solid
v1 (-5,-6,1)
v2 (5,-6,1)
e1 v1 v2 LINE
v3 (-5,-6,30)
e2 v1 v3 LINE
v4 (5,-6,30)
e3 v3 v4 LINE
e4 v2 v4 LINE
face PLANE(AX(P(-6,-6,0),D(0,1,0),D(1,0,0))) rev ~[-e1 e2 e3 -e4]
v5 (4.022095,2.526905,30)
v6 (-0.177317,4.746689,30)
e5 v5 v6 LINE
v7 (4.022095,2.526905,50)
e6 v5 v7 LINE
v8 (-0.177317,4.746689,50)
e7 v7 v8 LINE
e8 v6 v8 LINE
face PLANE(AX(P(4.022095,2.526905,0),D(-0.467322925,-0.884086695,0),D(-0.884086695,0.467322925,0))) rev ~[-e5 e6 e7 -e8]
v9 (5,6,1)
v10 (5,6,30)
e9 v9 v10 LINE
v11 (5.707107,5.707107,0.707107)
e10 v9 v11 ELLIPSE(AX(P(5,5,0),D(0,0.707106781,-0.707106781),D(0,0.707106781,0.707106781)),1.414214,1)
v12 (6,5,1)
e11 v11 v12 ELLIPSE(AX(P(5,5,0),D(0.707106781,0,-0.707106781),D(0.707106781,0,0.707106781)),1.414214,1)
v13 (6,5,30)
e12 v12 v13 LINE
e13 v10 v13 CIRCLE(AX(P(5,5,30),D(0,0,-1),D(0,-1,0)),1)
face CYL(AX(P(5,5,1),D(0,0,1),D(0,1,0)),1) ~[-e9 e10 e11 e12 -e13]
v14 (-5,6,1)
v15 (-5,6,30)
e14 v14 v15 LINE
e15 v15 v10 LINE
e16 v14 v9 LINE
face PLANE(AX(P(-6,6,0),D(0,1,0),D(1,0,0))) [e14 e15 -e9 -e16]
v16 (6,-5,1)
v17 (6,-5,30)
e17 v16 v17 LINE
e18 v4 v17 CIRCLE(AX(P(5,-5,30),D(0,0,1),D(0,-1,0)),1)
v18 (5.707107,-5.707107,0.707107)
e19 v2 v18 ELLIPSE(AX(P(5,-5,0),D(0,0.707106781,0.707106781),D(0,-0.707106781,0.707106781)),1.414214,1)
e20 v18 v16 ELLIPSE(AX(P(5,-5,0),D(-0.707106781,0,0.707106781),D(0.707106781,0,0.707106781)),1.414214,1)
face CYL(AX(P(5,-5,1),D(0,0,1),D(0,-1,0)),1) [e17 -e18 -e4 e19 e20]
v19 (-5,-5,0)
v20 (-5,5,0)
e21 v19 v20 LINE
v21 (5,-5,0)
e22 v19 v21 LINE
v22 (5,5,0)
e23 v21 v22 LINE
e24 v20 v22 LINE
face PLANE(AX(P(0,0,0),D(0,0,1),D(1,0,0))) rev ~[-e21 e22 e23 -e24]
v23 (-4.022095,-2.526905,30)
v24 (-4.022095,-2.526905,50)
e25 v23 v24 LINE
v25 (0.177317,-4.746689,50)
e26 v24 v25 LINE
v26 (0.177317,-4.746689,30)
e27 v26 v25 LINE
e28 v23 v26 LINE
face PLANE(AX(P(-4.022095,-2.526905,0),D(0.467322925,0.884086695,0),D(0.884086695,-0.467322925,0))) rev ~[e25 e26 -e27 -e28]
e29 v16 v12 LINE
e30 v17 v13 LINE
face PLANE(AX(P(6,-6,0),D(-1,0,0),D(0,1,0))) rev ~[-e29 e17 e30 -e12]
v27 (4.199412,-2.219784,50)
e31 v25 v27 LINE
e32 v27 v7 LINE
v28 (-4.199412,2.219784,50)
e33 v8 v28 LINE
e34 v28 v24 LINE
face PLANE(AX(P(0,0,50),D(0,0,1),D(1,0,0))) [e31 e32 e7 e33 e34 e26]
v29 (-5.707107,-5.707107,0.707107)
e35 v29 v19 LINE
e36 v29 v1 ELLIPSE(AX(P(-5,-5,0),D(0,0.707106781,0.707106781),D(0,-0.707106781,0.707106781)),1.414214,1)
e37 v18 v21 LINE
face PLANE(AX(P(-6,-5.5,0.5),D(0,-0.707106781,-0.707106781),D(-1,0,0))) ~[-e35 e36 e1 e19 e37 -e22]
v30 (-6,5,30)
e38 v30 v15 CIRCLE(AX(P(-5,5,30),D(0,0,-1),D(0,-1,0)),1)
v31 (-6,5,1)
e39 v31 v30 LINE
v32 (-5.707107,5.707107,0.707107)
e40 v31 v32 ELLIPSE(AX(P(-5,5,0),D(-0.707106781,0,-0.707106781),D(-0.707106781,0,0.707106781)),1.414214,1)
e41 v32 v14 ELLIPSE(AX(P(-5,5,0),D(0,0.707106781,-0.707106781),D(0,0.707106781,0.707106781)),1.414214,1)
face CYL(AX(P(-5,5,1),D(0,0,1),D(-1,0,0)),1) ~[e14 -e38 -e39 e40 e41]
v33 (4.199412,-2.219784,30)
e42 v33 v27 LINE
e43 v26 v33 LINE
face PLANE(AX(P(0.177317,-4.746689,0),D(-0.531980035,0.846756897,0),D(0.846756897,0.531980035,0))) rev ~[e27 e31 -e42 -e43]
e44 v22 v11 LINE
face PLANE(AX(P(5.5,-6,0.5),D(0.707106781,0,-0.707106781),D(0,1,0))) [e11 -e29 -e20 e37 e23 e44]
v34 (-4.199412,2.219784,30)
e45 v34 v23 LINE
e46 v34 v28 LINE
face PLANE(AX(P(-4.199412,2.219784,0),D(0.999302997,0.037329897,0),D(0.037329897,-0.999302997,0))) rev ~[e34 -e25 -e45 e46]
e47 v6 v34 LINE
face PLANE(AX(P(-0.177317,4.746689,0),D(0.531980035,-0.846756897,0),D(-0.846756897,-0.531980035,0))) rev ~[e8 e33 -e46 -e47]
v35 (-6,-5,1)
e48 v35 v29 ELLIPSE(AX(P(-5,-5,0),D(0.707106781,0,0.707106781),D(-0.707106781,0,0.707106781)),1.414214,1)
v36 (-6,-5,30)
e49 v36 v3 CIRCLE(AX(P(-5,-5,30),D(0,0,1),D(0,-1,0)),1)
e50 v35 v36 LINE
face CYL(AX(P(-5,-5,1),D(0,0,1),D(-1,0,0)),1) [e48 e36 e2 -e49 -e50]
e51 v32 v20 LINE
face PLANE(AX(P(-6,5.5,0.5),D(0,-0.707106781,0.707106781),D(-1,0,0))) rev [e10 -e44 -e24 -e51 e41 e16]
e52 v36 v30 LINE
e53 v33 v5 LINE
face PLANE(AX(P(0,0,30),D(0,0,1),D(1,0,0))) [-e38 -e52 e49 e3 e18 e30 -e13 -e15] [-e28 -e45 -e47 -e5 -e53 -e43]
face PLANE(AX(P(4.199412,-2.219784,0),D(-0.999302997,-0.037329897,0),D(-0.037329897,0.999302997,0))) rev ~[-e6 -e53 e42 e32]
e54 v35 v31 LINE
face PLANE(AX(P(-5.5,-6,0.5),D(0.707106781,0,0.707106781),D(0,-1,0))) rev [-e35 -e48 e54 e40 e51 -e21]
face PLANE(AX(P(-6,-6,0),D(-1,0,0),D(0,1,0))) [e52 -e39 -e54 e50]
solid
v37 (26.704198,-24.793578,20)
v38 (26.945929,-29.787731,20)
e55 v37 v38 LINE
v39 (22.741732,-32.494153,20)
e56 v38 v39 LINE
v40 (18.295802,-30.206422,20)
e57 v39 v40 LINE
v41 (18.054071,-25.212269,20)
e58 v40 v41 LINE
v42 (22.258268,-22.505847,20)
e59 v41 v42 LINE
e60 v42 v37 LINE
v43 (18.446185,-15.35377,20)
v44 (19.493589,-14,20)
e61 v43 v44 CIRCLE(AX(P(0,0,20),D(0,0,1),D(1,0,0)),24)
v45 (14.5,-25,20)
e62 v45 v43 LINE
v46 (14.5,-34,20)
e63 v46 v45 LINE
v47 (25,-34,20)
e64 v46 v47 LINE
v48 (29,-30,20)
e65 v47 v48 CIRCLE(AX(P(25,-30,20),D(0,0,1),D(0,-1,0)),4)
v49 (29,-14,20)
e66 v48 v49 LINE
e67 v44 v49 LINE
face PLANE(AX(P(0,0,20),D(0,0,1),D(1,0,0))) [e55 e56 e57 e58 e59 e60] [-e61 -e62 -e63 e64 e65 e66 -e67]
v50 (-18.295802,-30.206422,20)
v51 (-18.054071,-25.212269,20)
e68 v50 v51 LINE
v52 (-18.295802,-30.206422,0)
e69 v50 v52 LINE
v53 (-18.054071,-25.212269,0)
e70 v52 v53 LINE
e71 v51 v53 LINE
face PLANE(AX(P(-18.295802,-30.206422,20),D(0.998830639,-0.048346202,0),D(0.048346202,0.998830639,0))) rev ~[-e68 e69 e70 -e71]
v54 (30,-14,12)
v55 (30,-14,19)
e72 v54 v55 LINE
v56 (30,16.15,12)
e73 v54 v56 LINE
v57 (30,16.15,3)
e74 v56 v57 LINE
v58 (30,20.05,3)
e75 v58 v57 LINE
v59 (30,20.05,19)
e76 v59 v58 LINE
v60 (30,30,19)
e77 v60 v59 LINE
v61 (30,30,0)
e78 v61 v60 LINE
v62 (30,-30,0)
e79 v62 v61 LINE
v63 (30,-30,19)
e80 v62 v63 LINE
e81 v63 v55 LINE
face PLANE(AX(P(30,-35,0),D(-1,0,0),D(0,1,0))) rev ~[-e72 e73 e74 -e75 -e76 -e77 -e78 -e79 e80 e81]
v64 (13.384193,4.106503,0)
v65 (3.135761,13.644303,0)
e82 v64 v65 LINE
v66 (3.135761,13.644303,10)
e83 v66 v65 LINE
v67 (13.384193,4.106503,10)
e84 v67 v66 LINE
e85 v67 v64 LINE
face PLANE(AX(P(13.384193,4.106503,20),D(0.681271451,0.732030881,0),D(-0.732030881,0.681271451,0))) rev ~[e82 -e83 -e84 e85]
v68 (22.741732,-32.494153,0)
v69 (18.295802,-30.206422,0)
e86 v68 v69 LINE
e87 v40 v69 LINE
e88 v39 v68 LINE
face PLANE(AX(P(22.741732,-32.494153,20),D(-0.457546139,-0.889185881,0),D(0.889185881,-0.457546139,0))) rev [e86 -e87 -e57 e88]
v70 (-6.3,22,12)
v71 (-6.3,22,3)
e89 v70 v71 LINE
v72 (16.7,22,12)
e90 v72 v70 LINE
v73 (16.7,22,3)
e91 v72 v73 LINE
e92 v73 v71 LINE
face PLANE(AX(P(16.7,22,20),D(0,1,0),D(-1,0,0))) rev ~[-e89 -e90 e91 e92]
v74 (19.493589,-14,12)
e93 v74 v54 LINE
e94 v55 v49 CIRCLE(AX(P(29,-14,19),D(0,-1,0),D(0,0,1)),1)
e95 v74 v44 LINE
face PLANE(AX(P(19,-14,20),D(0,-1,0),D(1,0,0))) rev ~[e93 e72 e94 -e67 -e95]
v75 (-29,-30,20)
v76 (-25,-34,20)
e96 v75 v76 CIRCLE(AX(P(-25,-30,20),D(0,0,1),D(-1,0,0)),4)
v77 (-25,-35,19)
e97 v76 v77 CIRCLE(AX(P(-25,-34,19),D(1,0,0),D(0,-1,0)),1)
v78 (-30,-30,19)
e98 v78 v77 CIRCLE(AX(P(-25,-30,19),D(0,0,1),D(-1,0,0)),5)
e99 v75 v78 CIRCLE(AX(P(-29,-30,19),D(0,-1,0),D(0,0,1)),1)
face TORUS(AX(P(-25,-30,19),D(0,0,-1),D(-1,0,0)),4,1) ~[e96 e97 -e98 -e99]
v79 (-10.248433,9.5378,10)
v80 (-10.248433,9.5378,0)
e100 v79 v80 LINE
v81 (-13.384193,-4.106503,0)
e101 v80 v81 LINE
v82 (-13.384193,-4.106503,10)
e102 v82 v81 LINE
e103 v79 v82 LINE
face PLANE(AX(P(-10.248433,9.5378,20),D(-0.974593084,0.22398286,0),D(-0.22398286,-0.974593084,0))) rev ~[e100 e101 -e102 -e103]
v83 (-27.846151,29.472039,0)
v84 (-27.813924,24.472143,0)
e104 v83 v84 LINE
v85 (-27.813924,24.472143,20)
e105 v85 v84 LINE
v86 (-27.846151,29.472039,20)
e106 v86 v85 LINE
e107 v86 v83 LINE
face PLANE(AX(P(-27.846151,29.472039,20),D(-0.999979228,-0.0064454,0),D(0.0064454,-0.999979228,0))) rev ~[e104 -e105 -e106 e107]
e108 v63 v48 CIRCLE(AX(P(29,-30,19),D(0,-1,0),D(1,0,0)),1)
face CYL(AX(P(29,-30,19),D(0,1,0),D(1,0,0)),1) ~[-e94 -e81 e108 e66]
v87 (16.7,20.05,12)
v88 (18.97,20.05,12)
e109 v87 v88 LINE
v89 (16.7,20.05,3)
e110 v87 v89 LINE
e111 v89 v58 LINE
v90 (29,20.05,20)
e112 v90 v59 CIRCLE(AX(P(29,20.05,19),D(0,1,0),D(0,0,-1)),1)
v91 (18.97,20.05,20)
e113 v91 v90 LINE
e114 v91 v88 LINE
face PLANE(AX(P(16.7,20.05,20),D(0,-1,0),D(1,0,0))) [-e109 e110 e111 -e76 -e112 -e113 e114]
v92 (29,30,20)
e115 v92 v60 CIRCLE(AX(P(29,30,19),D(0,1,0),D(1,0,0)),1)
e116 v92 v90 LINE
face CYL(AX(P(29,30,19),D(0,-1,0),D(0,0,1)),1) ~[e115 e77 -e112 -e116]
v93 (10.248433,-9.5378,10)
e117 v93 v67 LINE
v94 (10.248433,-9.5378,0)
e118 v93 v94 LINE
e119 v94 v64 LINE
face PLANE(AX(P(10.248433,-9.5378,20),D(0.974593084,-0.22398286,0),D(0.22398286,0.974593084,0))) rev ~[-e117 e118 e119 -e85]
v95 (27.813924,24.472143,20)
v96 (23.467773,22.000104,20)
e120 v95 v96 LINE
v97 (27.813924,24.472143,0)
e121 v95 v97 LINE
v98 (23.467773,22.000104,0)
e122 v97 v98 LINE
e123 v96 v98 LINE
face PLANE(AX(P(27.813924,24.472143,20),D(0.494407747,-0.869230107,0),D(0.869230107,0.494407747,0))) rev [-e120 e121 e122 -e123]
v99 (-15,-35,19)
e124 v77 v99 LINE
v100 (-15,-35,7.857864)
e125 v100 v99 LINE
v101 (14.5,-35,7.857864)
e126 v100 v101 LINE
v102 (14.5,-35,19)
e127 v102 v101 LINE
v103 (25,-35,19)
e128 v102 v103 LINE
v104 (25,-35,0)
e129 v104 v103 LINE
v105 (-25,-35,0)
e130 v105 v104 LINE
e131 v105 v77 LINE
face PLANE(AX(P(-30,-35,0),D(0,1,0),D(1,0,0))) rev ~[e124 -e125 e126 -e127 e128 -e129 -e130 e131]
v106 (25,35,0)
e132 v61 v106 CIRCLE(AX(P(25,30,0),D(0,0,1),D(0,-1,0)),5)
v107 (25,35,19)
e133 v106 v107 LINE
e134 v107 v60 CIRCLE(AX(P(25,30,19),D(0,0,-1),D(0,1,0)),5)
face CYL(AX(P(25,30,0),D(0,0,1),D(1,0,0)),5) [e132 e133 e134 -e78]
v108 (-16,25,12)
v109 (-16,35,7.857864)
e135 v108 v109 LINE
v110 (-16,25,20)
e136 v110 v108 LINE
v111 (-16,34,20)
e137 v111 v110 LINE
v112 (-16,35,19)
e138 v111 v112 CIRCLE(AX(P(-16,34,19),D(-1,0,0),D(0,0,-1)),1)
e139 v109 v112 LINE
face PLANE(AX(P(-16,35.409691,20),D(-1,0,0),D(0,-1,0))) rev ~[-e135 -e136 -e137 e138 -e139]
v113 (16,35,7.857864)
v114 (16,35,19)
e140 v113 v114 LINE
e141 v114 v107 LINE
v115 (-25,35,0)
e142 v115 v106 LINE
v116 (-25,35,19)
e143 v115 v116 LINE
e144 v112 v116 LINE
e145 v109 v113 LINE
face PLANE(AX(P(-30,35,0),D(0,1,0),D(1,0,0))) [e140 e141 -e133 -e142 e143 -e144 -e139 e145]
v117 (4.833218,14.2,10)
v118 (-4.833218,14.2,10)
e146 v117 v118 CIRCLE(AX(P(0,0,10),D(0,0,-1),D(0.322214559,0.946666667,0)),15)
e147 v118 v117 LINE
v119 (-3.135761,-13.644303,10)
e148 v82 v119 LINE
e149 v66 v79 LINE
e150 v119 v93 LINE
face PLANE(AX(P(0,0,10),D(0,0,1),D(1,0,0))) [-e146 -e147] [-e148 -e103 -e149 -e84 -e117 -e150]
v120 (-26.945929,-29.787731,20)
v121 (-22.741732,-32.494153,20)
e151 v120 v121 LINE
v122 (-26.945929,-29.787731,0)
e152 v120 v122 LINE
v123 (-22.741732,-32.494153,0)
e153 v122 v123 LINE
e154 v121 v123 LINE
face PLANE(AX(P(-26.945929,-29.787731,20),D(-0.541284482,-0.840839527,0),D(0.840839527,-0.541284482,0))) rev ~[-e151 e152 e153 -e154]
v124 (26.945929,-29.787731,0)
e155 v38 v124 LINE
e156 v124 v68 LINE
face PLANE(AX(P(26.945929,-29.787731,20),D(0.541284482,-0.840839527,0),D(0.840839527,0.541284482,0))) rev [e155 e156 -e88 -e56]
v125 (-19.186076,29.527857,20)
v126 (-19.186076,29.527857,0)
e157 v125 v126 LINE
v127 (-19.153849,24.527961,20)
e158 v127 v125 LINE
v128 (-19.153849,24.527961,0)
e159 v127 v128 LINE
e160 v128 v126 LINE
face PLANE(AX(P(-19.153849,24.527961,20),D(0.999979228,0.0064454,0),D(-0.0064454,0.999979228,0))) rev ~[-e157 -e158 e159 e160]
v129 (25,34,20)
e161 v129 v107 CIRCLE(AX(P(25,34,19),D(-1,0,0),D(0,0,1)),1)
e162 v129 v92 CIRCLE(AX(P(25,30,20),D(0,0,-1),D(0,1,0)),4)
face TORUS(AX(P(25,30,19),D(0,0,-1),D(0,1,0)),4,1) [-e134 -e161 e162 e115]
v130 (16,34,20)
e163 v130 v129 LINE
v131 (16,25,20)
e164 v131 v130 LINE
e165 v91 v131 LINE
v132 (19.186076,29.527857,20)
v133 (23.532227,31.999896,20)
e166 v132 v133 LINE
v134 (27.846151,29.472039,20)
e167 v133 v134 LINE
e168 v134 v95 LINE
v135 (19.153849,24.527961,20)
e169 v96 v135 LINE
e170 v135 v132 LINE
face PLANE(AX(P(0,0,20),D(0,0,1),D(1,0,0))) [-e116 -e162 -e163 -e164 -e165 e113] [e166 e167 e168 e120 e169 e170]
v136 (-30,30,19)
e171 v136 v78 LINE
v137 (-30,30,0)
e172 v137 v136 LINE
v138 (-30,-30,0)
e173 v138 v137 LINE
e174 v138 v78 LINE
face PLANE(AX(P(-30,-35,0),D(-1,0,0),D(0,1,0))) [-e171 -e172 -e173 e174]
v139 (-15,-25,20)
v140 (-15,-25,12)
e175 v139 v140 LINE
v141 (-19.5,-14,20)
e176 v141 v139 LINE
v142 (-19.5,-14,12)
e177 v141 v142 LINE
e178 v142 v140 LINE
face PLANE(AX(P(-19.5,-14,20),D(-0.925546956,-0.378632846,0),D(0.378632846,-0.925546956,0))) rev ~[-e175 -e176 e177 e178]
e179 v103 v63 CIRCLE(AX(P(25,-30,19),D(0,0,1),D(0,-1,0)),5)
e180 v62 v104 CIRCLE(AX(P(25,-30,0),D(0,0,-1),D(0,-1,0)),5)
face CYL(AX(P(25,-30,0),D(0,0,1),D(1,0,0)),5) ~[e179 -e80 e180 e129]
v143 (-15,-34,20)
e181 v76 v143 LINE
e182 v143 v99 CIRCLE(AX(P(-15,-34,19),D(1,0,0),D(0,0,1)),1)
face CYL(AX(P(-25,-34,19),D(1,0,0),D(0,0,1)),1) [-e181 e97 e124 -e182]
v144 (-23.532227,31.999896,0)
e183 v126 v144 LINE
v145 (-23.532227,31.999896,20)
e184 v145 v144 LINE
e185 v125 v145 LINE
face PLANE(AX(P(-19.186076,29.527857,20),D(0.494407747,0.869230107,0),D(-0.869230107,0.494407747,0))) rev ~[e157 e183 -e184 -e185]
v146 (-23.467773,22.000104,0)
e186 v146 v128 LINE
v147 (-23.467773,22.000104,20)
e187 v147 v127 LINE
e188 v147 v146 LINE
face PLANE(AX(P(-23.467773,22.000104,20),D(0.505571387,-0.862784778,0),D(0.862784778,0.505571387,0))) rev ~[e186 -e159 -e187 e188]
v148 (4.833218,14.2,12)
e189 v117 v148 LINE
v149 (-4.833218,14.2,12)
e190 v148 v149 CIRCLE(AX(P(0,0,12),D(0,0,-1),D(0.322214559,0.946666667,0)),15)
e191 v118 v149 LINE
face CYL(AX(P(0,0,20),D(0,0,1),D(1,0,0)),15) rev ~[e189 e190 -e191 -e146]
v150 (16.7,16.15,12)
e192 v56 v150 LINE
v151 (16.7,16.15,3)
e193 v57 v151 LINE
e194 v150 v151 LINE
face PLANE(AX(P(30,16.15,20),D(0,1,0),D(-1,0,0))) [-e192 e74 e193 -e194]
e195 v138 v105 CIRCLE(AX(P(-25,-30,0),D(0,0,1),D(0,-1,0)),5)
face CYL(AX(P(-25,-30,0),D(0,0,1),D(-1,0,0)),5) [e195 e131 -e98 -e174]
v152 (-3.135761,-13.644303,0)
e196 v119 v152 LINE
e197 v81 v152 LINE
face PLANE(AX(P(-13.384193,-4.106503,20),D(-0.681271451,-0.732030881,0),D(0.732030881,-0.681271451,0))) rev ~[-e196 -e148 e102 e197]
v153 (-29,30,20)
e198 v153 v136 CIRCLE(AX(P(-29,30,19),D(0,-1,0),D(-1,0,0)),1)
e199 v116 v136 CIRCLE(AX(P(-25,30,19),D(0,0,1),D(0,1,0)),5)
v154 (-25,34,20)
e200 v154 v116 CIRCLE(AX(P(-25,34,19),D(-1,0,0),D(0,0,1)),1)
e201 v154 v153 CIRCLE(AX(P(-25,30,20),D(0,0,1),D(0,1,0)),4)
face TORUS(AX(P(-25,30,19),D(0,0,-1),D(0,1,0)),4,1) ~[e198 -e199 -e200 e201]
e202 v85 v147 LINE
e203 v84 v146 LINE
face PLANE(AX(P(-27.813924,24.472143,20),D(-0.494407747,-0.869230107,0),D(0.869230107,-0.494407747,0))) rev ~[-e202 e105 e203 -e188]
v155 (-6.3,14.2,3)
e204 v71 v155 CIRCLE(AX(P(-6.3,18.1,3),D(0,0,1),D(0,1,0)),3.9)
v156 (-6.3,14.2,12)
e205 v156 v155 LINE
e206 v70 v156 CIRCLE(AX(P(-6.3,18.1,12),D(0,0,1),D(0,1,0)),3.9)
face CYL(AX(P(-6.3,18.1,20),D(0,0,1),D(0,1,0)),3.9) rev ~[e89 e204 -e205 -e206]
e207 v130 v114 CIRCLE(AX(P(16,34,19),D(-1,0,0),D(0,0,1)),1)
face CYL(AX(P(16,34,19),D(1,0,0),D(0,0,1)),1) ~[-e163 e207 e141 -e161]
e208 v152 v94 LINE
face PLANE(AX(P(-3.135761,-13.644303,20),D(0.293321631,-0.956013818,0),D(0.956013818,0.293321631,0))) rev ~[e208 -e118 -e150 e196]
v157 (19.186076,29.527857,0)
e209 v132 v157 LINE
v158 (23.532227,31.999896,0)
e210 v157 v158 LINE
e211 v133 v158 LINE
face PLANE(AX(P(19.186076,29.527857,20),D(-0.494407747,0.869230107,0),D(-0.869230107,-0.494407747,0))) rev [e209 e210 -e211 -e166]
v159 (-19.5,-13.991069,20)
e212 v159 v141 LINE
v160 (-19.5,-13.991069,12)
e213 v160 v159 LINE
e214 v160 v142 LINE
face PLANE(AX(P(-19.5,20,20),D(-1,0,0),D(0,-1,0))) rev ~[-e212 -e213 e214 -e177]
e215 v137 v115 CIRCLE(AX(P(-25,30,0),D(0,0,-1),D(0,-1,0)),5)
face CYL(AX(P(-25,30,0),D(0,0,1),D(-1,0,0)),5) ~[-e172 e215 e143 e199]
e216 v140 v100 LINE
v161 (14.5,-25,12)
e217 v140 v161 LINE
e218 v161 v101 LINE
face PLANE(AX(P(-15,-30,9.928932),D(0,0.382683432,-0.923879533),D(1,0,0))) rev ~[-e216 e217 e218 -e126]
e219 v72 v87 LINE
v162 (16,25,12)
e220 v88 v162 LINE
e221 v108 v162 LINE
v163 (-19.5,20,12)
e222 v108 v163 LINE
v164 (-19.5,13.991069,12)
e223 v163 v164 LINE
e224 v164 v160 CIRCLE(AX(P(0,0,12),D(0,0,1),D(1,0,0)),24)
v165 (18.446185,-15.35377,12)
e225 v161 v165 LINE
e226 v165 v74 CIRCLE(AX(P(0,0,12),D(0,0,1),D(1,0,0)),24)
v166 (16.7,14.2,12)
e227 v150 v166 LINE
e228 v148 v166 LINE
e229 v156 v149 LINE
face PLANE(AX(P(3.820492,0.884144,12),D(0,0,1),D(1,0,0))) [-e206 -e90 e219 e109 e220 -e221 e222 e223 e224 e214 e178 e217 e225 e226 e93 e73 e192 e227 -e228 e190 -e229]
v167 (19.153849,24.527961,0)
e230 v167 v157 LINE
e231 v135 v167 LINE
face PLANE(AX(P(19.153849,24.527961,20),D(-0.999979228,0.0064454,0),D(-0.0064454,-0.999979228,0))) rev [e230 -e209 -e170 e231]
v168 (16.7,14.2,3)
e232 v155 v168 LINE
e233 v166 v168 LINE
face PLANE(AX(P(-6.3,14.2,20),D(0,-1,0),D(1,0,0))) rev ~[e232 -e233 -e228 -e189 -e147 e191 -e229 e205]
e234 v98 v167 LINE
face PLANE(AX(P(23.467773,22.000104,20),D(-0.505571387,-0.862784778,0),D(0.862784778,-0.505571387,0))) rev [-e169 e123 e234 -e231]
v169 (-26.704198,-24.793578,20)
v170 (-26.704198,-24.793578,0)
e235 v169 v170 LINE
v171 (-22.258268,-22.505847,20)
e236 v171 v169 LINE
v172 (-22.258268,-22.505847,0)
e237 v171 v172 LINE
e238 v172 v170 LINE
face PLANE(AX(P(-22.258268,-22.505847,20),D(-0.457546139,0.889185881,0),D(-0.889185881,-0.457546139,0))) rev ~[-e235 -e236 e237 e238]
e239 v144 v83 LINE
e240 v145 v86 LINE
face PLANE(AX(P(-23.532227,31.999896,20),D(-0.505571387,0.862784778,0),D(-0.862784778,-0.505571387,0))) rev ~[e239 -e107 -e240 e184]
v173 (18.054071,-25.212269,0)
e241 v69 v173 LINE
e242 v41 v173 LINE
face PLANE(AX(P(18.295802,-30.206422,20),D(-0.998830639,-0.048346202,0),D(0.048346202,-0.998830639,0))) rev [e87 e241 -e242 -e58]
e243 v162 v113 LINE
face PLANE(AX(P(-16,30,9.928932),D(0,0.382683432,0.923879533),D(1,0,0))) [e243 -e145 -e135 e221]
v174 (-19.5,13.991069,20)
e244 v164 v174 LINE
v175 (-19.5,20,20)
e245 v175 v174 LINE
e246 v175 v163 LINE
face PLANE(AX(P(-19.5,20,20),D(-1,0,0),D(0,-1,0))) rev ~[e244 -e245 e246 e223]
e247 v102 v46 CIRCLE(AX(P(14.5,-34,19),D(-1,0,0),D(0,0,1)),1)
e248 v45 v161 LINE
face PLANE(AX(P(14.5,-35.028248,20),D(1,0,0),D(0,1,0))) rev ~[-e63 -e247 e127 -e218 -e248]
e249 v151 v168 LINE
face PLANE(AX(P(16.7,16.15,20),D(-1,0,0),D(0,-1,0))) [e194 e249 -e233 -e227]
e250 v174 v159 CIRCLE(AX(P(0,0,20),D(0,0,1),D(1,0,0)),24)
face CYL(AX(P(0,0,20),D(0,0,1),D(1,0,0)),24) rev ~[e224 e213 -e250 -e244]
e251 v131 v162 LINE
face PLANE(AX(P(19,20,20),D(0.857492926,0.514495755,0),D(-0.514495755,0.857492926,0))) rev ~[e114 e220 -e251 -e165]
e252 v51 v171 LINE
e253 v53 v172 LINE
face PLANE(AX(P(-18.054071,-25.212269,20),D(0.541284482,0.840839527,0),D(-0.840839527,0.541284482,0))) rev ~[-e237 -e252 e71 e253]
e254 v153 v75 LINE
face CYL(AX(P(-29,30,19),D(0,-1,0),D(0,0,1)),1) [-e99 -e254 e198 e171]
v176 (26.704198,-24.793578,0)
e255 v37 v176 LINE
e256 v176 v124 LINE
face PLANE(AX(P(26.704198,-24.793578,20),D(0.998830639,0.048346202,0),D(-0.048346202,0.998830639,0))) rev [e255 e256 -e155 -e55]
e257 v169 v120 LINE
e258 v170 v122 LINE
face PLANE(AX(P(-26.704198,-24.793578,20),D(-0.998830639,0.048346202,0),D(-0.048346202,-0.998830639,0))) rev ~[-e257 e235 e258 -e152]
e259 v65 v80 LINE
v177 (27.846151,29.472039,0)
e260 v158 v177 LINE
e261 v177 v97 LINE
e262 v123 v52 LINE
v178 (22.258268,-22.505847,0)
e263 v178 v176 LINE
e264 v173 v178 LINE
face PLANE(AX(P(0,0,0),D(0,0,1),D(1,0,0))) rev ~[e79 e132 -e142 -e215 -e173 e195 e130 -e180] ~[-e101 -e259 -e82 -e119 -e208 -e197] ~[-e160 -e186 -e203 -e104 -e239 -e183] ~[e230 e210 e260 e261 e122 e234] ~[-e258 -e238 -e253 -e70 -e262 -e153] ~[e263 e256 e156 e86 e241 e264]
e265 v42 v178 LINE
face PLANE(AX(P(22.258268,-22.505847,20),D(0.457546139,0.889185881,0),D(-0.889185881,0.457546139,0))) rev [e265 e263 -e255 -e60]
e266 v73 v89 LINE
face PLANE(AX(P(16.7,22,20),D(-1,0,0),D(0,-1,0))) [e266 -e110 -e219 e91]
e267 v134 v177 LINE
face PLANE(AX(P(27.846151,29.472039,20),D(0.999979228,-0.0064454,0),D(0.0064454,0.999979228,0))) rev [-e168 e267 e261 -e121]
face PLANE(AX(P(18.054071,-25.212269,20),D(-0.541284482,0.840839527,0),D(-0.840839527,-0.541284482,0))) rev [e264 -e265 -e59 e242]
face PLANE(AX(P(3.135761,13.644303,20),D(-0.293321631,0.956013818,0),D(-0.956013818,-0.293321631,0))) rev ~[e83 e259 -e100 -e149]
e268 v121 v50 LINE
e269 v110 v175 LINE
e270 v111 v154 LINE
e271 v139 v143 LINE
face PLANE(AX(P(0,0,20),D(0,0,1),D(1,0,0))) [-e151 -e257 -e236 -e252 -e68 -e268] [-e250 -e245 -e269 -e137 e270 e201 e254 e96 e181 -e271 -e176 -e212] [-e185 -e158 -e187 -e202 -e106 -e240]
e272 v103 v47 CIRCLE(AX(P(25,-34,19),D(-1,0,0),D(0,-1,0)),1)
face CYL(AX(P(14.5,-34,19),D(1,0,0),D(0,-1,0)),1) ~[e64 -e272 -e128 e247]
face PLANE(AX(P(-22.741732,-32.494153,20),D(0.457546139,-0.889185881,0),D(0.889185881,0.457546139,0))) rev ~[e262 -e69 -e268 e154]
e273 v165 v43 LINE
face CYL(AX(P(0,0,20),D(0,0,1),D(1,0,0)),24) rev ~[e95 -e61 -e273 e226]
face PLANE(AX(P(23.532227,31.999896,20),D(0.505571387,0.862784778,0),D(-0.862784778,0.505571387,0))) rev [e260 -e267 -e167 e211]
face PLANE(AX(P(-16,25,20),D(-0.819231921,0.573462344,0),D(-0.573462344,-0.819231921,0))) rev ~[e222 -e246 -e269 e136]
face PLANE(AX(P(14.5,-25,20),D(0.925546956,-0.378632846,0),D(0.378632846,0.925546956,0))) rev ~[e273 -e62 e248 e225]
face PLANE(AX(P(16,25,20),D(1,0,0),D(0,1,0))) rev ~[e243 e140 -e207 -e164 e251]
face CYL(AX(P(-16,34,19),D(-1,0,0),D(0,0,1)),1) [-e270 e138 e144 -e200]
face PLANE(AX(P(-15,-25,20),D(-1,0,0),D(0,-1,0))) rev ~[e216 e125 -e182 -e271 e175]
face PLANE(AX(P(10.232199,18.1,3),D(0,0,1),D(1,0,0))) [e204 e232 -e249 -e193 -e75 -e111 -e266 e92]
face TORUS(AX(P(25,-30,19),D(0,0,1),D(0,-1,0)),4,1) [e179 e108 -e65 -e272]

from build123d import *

# Parameters (mm, degrees)
SKETCH_W        = 60
SKETCH_H        = 70
PAD_DEPTH       = 20
SKETCH001_R     = 15
POCKET_DEPTH    = 10
SKETCH003_R     = 24
POCKET002_DEPTH = 8
POCKET003_DEPTH = 8
POCKET004_DEPTH = 17
FILLET_R        = 5
POCKET005_DEPTH = 20
POCKET006_DEPTH = 20
POCKET007_DEPTH = 20
POCKET008_DEPTH = 20
CHAMFER_1_ANGLE = 22.5
CHAMFER_1_SIZE  = 10
CHAMFER_2_ANGLE = 22.5
CHAMFER_2_SIZE  = 10
FILLET003_R     = 1
PAD001_DEPTH    = 50
SKETCH010_W     = 12
SKETCH010_H     = 12
PAD002_DEPTH    = 30
CHAMFER002_SIZE = 1
FILLET002_R     = 1


with BuildPart() as body:
    # Sketch → Pad (new body)
    with BuildSketch(Plane.XY):
        Rectangle(SKETCH_W, SKETCH_H)
    extrude(amount=PAD_DEPTH)

    # Sketch001 (on DatumPlane) → Pocket (cut)
    with BuildSketch(Plane.XY.offset(20)):
        Circle(SKETCH001_R)
    extrude(amount=-POCKET_DEPTH, mode=Mode.SUBTRACT)

    # Sketch003 (on DatumPlane) → Pocket002 (cut)
    with BuildSketch(Plane.XY.offset(20)):
        Circle(SKETCH003_R)
    extrude(amount=-POCKET002_DEPTH, mode=Mode.SUBTRACT)

    # Sketch007 (on DatumPlane) → Pocket003 (cut)
    with BuildSketch(Plane.XY.offset(20)):
        Polygon((19, 20), (16, 25), (16, 35.409691), (-16, 35.409691), (-16, 25), (-19.5, 20), (-19.5, -14), (-15, -25), (-15, -35.028248), (14.5, -35.028248), (14.5, -25), (19, -14), (30.000004, -14), (30.000004, 20), align=None)
    extrude(amount=-POCKET003_DEPTH, mode=Mode.SUBTRACT)

    # Sketch005 (on DatumPlane) → Pocket004 (cut)
    with BuildSketch(Plane.XY.offset(20)):
        with BuildLine():
            Line((16.7, 22), (-6.3, 22))
            ThreePointArc((-6.3, 22), (-10.2, 18.1), (-6.3, 14.2))
            Line((-6.3, 14.2), (16.7, 14.2))
            Line((16.7, 16.15), (16.7, 14.2))
            Line((30, 16.15), (16.7, 16.15))
            Line((30, 20.05), (30, 16.15))
            Line((16.7, 20.05), (30, 20.05))
            Line((16.7, 22), (16.7, 20.05))
        make_face()
    extrude(amount=-POCKET004_DEPTH, mode=Mode.SUBTRACT)

    # Fillet
    fillet_edges = [body.edges().sort_by_distance(p)[0] for p in [
        (-30, 35, 10),
        (30, 35, 10),
        (-30, -35, 10),
        (30, -35, 10),
    ]]
    fillet(fillet_edges, radius=FILLET_R)

    # Sketch012 (on DatumPlane) → Pocket005 (cut)
    with BuildSketch(Plane.XY.offset(20)):
        Polygon((-18.295802, -30.206422), (-18.054071, -25.212269), (-22.258268, -22.505847), (-26.704198, -24.793578), (-26.945929, -29.787731), (-22.741732, -32.494153), align=None)
    extrude(amount=-POCKET005_DEPTH, mode=Mode.SUBTRACT)

    # Sketch009 (on DatumPlane) → Pocket006 (cut)
    with BuildSketch(Plane.XY.offset(20)):
        Polygon((10.248433, -9.5378), (13.384193, 4.106503), (3.135761, 13.644303), (-10.248433, 9.5378), (-13.384193, -4.106503), (-3.135761, -13.644303), align=None)
    extrude(amount=-POCKET006_DEPTH, mode=Mode.SUBTRACT)

    # Sketch012 (on DatumPlane) → Pocket007 (cut)
    with BuildSketch(Plane.XY.offset(20)):
        Polygon((-18.295802, -30.206422), (-18.054071, -25.212269), (-22.258268, -22.505847), (-26.704198, -24.793578), (-26.945929, -29.787731), (-22.741732, -32.494153), align=None)
    pocket007 = extrude(amount=-POCKET007_DEPTH, mode=Mode.SUBTRACT)

    # Sketch008 (on DatumPlane) → Pocket008 (cut)
    with BuildSketch(Plane.XY.offset(20)):
        Polygon((-19.186076, 29.527857), (-23.532227, 31.999896), (-27.846151, 29.472039), (-27.813924, 24.472143), (-23.467773, 22.000104), (-19.153849, 24.527961), align=None)
    pocket008 = extrude(amount=-POCKET008_DEPTH, mode=Mode.SUBTRACT)

    # Mirrored: Pocket008 across Sketch008 V_Axis
    add(pocket008.mirror(Plane(origin=(0, 0, 20), x_dir=(0, 0, 1), z_dir=(1, 0, 0))), mode=Mode.SUBTRACT)

    # Mirrored001: Pocket007 across Sketch012 V_Axis
    add(pocket007.mirror(Plane(origin=(0, 0, 20), x_dir=(0, 0, 1), z_dir=(1, 0, 0))), mode=Mode.SUBTRACT)

    # Chamfer 1
    chamfer_1_edges = [body.edges().sort_by_distance(p)[0] for p in [
        (-0.25, -35, 12),
    ]]
    chamfer_1_side = body.faces().sort_by_distance((-0.405265, -28.061793, 12))[0]
    chamfer(chamfer_1_edges, length=CHAMFER_1_SIZE, angle=CHAMFER_1_ANGLE, reference=chamfer_1_side)

    # Chamfer 2
    chamfer_2_edges = [body.edges().sort_by_distance(p)[0] for p in [
        (0, 35, 12),
    ]]
    chamfer_2_side = body.faces().sort_by_distance((-1.063784, 28.061193, 12))[0]
    chamfer(chamfer_2_edges, length=CHAMFER_2_SIZE, angle=CHAMFER_2_ANGLE, reference=chamfer_2_side)

    # Fillet003
    fillet003_edges = [body.edges().sort_by_distance(p)[0] for p in [
        (-20, -35, 20),
        (-28.535534, -33.535534, 20),
        (-30, 0, 20),
        (-28.535534, 33.535534, 20),
        (-20.5, 35, 20),
        (20.5, 35, 20),
        (28.535534, 33.535534, 20),
        (30, 25.025, 20),
        (30, -22, 20),
        (28.535534, -33.535534, 20),
        (19.75, -35, 20),
    ]]
    fillet(fillet003_edges, radius=FILLET003_R)


with BuildPart() as body001:
    # Sketch011 → Pad001 (new body)
    with BuildSketch(Plane.XY):
        Polygon((4.199412, -2.219784), (4.022095, 2.526905), (-0.177317, 4.746689), (-4.199412, 2.219784), (-4.022095, -2.526905), (0.177317, -4.746689), align=None)
    extrude(amount=PAD001_DEPTH)

    # Sketch010 → Pad002 (join)
    with BuildSketch(Plane.XY):
        Rectangle(SKETCH010_W, SKETCH010_H)
    extrude(amount=PAD002_DEPTH)

    # Chamfer002
    chamfer002_edges = [body001.edges().sort_by_distance(p)[0] for p in [
        (0, -6, 0),
        (6, 0, 0),
        (0, 6, 0),
        (-6, 0, 0),
    ]]
    chamfer(chamfer002_edges, length=CHAMFER002_SIZE)

    # Fillet002
    fillet002_edges = [body001.edges().sort_by_distance(p)[0] for p in [
        (6, -6, 15.5),
        (-6, -6, 15.5),
        (6, 6, 15.5),
        (-6, 6, 15.5),
    ]]
    fillet(fillet002_edges, radius=FILLET002_R)


solid = Compound([body.part, body001.part])
